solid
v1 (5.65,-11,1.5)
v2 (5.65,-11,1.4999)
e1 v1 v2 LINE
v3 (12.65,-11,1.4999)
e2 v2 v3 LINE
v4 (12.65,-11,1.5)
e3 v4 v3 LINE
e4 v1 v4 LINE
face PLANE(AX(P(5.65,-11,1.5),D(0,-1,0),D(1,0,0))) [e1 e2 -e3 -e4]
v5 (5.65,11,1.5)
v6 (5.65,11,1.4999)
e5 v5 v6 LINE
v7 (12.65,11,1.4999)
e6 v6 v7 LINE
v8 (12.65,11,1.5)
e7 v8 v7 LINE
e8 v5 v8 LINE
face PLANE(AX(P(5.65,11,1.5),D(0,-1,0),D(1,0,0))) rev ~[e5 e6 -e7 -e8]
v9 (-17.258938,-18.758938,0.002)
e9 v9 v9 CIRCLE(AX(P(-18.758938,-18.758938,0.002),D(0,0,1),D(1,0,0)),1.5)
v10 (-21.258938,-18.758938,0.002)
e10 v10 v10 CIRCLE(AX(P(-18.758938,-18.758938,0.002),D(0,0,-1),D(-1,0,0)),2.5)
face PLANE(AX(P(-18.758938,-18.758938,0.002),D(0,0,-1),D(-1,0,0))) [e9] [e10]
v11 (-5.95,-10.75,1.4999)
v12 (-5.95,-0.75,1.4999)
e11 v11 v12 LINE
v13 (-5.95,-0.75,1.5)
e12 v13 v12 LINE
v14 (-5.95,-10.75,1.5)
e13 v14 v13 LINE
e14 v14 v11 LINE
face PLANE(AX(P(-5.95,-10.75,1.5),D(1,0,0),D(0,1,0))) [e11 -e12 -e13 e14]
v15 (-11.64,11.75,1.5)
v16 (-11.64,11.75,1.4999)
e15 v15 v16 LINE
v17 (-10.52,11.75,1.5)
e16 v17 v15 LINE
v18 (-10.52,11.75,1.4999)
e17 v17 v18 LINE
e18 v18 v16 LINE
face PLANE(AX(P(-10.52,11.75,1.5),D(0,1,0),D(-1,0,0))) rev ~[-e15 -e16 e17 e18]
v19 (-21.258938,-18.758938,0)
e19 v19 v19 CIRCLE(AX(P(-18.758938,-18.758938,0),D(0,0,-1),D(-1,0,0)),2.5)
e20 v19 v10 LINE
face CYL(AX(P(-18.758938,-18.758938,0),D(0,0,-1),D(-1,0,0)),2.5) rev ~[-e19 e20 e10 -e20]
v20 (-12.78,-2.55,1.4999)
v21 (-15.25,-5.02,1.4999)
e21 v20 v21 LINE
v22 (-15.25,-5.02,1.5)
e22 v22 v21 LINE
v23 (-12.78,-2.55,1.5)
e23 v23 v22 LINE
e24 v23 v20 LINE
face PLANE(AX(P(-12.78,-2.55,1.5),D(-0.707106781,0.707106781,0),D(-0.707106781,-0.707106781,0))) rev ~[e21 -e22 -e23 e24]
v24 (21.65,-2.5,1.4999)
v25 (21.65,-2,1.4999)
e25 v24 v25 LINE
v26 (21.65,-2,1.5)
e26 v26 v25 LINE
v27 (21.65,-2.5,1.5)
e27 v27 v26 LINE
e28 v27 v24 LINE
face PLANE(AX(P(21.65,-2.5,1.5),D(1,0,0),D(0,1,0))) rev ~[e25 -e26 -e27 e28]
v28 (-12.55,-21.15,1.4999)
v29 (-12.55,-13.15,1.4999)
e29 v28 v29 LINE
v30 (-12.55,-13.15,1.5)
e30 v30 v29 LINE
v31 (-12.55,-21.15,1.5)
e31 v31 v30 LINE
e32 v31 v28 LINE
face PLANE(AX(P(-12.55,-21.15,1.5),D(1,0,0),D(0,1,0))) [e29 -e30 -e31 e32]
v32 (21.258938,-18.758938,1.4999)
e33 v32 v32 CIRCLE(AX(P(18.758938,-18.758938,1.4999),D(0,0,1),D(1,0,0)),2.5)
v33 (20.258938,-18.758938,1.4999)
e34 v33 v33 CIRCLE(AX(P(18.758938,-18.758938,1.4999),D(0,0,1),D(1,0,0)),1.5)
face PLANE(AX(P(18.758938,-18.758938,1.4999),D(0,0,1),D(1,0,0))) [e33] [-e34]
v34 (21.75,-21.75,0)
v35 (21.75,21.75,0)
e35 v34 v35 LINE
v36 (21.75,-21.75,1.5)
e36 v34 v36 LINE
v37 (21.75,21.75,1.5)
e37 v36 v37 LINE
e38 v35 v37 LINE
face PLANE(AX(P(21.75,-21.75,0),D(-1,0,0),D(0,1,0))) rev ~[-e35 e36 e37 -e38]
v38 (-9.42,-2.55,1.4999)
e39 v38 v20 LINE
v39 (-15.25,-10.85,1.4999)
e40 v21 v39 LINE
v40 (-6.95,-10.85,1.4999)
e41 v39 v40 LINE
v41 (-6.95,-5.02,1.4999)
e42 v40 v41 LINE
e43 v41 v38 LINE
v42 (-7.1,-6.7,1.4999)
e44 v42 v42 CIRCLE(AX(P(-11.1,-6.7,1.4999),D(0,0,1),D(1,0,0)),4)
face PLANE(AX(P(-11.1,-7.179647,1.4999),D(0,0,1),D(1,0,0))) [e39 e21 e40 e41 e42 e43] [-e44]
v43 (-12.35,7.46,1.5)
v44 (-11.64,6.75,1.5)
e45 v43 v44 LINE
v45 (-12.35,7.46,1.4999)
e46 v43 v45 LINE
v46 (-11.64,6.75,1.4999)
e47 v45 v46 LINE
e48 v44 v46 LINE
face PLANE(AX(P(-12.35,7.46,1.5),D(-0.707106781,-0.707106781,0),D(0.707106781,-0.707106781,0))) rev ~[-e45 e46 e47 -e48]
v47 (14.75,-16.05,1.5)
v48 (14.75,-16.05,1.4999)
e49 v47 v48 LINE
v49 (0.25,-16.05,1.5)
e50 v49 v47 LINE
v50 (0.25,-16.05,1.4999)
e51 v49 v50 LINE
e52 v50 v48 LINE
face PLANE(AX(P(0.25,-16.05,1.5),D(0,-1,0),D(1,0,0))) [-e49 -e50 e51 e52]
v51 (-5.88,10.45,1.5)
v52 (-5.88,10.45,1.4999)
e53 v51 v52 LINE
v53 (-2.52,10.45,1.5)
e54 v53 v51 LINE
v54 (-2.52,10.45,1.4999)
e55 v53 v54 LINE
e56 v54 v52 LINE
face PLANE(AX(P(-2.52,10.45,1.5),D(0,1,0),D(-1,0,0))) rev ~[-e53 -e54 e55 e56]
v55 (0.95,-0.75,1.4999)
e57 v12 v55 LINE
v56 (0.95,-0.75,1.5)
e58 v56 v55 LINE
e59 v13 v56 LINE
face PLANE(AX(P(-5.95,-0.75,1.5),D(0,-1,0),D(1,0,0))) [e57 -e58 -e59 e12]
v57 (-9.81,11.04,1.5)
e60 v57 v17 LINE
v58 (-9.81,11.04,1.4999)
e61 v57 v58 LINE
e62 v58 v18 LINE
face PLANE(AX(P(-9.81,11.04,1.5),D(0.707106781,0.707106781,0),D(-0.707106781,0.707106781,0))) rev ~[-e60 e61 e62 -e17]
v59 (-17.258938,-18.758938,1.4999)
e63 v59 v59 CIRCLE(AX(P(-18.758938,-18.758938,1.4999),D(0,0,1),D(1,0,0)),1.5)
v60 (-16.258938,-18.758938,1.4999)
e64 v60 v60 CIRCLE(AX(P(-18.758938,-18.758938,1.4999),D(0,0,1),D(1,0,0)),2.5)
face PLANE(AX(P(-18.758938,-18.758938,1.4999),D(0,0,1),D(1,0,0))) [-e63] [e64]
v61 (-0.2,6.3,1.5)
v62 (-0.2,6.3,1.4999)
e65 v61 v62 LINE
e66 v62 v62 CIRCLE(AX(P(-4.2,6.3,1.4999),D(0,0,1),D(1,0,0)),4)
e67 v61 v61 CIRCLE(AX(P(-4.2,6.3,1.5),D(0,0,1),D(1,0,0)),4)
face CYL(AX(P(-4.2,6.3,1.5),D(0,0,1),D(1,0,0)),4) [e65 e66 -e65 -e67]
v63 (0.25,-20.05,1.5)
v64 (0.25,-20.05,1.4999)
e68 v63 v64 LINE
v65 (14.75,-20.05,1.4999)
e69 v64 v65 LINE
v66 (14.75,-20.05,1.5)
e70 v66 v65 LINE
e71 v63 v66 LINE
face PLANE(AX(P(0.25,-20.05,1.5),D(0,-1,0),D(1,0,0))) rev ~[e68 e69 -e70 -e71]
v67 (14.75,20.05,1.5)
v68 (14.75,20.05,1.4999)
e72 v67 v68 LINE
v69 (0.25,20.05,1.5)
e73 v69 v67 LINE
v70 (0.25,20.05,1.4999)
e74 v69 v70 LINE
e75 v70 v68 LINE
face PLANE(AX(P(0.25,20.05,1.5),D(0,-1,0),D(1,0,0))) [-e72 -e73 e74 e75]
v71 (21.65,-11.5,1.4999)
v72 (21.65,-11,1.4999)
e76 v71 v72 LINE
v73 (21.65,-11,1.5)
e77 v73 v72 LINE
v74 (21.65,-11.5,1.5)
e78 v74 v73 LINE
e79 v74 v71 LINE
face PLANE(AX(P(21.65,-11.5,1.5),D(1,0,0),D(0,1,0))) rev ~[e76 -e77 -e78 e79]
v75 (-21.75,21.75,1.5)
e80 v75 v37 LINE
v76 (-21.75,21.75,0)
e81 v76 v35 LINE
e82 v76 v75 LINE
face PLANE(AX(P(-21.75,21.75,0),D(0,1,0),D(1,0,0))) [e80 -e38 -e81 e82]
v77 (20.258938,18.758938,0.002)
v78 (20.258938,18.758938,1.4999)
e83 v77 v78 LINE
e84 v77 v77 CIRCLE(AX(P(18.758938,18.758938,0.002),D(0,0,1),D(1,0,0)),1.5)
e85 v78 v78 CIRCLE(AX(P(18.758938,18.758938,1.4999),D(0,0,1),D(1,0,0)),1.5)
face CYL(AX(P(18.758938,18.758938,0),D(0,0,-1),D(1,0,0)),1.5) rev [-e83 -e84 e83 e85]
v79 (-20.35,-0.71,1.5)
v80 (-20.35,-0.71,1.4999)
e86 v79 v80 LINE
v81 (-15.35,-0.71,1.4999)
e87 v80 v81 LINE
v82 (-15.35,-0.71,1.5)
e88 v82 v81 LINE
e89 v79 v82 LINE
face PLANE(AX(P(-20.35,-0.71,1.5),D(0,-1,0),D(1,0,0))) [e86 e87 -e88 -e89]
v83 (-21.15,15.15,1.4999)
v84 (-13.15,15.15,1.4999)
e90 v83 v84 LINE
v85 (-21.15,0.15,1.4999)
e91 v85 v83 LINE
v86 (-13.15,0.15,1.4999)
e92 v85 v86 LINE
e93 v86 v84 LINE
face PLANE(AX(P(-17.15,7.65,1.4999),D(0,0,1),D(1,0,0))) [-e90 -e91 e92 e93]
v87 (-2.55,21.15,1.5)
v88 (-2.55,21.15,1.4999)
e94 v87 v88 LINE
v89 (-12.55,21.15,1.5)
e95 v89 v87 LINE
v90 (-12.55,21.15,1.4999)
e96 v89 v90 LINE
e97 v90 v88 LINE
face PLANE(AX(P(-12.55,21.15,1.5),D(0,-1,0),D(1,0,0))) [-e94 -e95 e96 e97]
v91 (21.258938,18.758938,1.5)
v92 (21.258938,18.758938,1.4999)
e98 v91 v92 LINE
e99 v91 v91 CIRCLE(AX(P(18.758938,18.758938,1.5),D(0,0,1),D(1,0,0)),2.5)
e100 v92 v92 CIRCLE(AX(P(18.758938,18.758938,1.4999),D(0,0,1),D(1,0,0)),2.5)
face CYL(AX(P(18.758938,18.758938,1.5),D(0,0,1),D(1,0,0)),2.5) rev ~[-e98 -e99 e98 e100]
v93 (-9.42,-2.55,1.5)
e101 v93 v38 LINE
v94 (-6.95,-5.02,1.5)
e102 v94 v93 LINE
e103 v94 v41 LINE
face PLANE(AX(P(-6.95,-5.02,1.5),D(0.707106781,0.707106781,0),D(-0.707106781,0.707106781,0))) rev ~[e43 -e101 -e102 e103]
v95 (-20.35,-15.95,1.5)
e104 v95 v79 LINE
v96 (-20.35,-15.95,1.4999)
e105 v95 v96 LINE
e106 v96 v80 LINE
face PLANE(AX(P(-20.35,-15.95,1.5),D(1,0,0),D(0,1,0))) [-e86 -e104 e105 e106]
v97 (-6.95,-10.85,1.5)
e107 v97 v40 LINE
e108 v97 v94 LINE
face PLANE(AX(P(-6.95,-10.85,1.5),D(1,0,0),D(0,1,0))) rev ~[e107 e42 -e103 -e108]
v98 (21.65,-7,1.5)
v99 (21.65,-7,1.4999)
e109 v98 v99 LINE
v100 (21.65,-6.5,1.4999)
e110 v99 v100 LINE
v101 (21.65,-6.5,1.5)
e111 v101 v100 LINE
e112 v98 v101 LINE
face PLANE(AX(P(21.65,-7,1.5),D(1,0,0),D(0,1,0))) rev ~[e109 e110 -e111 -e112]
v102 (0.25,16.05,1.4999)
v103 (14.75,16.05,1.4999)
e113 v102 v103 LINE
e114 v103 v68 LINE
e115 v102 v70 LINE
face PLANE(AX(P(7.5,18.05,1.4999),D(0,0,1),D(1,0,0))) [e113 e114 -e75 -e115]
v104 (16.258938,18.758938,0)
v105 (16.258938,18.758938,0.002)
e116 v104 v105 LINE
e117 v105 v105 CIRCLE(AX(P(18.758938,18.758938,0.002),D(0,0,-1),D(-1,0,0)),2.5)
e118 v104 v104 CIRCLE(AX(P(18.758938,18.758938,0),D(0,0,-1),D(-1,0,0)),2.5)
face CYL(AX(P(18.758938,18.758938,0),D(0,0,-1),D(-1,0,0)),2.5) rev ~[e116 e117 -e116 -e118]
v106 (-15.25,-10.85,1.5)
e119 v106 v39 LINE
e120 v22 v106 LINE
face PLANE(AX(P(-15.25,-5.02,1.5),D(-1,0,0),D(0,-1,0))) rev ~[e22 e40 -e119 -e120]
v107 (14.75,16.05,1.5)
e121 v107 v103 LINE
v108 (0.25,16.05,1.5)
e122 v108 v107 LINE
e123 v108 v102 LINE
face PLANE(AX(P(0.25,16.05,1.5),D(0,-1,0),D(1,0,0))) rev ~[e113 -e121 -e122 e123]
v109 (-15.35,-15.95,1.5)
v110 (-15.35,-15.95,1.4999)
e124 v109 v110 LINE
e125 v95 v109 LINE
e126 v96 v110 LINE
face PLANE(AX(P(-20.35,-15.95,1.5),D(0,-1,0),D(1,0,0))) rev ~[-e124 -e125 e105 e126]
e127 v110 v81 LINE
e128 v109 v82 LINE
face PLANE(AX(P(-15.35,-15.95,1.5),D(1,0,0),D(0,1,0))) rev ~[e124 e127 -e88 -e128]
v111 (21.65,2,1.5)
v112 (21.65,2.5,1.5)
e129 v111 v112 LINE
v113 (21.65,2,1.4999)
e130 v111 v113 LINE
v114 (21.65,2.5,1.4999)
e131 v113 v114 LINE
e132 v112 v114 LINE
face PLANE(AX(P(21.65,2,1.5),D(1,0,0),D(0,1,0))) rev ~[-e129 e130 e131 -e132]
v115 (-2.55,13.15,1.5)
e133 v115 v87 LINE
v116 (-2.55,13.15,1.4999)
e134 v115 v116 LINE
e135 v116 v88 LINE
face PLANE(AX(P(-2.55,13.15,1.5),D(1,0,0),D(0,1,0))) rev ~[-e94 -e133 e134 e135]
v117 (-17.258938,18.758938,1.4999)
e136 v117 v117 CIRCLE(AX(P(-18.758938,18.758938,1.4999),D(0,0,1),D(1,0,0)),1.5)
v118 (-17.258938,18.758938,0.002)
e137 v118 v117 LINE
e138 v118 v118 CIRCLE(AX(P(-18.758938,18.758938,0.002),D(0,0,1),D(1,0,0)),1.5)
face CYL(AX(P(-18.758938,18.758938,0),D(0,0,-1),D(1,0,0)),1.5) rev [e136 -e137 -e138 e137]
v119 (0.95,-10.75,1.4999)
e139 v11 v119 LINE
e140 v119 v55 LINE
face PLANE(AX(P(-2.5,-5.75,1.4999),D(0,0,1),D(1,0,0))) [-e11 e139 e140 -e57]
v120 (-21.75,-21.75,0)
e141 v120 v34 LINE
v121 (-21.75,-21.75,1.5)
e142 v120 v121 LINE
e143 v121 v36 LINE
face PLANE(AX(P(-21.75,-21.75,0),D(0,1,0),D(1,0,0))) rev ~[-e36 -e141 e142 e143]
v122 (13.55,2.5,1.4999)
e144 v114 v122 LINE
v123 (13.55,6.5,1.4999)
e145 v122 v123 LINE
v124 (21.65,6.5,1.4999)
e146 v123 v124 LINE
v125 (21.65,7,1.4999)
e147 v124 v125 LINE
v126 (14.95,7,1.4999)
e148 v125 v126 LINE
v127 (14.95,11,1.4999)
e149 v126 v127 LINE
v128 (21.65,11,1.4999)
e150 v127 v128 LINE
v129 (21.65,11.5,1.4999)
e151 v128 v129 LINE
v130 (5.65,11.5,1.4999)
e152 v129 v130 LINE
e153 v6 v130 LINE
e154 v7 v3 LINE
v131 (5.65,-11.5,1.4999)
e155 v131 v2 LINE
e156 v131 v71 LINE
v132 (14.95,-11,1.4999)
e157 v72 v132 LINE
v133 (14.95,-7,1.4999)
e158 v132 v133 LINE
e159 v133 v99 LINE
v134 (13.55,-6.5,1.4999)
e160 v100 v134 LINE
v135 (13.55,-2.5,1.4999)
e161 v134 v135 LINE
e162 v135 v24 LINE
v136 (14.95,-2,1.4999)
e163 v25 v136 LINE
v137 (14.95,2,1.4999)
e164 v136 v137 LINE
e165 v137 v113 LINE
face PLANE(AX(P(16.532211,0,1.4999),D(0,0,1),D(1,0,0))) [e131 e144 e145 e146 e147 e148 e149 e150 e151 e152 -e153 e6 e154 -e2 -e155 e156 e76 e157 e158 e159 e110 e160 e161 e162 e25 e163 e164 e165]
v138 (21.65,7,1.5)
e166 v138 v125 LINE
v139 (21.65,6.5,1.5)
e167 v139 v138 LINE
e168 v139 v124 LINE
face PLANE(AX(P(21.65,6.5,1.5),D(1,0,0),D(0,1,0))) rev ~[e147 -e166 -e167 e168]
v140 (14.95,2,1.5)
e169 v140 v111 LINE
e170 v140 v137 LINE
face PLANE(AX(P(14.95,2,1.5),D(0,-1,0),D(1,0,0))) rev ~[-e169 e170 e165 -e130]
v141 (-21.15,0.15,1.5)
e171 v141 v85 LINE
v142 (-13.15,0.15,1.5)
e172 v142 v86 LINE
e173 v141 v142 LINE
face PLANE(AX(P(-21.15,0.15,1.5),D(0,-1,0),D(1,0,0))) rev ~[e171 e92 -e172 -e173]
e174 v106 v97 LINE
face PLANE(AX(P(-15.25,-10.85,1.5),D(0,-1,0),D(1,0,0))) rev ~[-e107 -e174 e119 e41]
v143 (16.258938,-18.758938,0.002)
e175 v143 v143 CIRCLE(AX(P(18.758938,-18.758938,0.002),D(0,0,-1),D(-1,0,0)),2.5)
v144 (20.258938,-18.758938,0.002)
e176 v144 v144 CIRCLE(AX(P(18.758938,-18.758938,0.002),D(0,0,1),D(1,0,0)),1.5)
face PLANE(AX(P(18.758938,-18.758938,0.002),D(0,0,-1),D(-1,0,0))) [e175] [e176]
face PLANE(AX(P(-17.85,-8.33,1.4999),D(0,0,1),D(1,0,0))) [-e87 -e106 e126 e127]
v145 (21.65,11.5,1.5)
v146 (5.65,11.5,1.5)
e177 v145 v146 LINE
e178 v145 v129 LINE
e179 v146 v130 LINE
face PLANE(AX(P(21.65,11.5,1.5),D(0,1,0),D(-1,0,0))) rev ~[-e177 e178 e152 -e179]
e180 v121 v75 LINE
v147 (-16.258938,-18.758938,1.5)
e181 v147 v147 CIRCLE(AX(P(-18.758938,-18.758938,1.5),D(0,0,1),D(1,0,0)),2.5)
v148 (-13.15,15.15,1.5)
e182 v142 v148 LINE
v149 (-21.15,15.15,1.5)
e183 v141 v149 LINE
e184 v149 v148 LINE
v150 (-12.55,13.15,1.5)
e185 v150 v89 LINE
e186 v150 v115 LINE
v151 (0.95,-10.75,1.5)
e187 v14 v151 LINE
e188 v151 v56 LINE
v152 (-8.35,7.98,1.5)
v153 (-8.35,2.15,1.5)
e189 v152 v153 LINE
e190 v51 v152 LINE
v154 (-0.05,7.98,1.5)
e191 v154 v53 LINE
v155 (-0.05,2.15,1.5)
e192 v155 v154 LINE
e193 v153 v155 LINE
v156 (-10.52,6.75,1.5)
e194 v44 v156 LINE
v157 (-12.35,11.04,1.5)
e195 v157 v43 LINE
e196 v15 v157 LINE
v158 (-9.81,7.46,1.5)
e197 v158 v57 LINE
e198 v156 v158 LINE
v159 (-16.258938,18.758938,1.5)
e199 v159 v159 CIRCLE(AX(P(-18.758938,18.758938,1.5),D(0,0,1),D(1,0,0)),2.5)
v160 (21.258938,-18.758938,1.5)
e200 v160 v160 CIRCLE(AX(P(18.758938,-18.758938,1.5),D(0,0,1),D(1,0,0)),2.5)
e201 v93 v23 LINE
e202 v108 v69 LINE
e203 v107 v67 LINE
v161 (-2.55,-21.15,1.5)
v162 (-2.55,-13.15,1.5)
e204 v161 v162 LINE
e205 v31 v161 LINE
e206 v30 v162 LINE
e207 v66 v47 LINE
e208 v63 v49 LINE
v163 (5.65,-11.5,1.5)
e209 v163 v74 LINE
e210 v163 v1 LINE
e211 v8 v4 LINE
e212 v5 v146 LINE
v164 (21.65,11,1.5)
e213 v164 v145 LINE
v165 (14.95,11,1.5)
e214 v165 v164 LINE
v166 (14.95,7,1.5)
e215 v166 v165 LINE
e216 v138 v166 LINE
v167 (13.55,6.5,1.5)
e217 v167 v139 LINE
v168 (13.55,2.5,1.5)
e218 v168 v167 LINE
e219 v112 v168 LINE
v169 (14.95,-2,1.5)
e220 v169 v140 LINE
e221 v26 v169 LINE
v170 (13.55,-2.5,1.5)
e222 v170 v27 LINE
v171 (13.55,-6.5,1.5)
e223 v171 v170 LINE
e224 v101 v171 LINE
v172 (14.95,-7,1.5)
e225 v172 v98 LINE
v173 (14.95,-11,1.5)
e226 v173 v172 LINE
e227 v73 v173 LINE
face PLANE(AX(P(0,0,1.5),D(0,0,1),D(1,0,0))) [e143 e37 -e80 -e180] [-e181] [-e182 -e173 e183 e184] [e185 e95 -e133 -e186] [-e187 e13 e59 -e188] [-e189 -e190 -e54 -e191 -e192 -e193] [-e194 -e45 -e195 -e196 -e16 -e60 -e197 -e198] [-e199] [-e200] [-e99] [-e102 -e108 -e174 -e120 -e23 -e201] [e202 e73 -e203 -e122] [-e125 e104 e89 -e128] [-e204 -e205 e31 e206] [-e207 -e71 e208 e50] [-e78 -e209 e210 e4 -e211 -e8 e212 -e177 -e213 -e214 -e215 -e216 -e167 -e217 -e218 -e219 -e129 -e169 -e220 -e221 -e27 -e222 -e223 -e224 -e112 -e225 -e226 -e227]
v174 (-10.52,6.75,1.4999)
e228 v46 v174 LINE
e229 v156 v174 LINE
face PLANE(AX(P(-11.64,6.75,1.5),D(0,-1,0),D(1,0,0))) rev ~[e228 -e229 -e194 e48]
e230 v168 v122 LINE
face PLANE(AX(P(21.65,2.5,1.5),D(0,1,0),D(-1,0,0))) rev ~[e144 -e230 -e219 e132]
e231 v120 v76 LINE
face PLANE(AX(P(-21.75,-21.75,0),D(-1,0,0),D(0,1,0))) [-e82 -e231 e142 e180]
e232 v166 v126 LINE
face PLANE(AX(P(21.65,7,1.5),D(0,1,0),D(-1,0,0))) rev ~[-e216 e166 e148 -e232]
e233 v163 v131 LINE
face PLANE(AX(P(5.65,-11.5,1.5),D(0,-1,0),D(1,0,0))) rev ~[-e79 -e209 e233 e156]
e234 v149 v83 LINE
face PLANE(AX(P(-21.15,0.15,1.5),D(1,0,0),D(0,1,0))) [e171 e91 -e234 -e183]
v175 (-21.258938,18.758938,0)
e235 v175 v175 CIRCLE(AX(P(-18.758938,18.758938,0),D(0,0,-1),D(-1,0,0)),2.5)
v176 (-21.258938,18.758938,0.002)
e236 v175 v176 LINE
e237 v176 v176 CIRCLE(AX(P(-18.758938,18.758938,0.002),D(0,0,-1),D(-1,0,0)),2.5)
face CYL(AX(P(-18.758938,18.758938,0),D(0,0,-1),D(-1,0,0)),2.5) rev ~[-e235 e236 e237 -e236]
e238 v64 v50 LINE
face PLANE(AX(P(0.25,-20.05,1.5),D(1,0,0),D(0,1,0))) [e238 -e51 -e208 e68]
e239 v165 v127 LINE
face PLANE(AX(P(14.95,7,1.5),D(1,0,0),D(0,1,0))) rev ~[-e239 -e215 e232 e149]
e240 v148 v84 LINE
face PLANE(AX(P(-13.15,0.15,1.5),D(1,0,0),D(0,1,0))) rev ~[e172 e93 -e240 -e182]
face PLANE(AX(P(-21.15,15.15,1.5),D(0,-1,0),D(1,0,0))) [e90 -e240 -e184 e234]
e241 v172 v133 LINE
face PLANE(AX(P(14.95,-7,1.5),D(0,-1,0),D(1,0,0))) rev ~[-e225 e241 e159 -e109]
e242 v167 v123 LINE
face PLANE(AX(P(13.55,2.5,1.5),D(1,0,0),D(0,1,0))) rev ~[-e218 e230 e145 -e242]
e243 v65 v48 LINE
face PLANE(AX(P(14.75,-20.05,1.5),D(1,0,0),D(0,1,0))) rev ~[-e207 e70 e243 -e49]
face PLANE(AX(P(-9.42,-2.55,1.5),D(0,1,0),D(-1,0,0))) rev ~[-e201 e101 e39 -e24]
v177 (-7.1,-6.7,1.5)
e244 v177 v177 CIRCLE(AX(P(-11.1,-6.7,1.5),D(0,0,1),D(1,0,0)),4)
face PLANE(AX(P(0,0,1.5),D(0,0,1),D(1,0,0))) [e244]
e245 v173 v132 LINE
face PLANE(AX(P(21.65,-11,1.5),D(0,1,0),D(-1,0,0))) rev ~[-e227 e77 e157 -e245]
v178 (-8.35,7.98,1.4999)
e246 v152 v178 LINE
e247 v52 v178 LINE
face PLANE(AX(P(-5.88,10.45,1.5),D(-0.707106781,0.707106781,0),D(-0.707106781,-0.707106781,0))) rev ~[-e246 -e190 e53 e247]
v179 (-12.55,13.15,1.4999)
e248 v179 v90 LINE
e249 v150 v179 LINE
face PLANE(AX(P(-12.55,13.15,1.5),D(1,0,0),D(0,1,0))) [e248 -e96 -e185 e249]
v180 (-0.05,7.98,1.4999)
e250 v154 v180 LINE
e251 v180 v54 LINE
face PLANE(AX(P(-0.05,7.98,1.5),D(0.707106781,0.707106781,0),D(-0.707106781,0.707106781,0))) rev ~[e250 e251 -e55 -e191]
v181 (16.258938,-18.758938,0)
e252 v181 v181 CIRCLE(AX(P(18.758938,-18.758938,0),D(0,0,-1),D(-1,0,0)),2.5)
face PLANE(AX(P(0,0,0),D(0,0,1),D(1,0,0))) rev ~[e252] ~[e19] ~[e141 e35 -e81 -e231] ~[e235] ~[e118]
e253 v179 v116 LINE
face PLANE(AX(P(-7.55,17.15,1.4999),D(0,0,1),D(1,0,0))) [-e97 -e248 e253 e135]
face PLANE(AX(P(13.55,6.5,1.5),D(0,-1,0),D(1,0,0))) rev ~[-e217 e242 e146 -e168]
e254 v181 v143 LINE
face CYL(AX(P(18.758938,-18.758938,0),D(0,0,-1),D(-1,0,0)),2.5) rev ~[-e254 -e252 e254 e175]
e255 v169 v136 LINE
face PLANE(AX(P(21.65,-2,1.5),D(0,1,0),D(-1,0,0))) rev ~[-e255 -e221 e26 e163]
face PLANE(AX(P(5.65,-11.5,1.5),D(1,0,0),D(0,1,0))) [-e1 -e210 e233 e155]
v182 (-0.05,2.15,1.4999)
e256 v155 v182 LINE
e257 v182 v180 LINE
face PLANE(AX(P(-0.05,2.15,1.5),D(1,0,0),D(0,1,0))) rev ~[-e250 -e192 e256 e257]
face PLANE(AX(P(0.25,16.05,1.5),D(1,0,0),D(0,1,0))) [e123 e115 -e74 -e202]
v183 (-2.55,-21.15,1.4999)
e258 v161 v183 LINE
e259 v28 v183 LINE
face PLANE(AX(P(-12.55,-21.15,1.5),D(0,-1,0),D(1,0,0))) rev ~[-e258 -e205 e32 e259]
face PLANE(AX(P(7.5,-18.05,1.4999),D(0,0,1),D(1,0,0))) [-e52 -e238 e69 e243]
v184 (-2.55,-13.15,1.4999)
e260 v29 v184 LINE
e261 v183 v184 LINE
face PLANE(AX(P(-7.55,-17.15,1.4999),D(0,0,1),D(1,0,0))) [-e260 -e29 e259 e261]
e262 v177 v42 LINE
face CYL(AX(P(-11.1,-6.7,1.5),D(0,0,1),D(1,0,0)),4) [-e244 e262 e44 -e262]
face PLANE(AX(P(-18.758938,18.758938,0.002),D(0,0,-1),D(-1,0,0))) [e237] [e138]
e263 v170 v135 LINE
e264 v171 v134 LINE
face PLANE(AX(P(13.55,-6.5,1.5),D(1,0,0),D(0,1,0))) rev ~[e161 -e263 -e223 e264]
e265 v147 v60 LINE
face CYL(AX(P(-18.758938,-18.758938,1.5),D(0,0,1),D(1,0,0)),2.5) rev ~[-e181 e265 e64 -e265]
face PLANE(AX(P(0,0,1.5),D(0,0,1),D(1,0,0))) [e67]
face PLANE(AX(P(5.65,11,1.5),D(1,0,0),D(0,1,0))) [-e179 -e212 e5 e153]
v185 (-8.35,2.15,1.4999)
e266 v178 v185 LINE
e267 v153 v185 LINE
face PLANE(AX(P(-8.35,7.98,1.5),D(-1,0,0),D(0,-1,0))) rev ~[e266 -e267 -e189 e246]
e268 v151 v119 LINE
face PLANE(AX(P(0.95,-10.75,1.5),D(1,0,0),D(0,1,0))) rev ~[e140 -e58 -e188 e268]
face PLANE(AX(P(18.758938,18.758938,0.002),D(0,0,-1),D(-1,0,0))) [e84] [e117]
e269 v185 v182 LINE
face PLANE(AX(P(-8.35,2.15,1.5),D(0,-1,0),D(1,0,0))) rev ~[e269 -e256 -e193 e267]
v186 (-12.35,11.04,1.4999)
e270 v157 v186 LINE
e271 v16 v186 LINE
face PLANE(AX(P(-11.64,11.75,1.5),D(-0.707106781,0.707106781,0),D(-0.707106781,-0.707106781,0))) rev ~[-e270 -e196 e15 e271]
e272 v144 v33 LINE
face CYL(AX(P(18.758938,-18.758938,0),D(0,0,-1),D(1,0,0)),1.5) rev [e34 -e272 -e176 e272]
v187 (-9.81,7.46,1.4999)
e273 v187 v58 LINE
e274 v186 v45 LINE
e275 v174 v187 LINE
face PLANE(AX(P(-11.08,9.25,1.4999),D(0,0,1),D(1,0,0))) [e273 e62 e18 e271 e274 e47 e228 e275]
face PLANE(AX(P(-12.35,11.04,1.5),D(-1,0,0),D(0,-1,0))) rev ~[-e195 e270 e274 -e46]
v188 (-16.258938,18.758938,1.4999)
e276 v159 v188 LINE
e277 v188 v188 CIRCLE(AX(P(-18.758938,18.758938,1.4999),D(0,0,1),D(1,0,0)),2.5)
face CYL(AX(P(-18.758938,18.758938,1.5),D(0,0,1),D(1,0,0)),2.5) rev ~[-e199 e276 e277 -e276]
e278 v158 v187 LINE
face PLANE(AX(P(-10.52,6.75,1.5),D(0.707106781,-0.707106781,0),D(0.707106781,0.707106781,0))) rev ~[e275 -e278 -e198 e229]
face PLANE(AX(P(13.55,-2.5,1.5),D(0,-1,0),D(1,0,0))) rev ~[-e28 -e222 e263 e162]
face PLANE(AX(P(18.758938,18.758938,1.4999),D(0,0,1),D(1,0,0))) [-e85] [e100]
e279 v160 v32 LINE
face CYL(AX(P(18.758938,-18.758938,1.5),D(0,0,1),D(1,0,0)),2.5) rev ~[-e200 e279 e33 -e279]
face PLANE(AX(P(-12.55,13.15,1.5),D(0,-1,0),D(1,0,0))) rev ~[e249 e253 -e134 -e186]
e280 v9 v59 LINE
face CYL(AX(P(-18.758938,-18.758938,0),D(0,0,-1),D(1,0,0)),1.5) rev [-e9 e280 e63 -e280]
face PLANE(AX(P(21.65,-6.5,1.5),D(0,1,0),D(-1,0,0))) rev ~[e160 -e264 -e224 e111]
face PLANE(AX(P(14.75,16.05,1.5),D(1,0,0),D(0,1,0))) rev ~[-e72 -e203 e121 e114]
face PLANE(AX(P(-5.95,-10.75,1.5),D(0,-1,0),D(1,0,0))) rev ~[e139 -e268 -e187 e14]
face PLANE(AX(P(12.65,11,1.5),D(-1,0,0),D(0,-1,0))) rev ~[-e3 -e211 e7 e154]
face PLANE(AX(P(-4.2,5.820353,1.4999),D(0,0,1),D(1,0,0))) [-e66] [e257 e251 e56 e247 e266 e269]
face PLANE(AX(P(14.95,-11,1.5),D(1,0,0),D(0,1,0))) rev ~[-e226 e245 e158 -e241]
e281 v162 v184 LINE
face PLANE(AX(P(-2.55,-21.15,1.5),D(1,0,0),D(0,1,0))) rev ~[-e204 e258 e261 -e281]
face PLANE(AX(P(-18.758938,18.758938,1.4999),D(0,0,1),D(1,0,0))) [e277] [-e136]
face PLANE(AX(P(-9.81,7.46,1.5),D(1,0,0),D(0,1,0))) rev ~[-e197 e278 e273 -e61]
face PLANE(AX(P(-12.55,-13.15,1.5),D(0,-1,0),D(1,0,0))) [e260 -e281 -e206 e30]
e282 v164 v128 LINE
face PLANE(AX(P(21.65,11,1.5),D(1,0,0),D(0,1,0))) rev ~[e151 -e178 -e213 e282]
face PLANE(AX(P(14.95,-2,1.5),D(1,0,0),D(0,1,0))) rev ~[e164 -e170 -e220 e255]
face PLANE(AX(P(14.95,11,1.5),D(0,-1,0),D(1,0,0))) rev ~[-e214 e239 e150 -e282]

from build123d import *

# Parameters (mm, degrees)
SKETCH1_W           = 43.5
SKETCH1_H           = 43.5
SKETCH1_R           = 1.5
BOSS_EXTRUDE1_DEPTH = 1.5
SKETCH2_R           = 2.5
SKETCH2_R_2         = 1.5
CUT_EXTRUDE1_DEPTH  = 0.0001
SKETCH3_R           = 2.5
SKETCH3_R_2         = 1.5
CUT_EXTRUDE2_DEPTH  = 0.002
SKETCH4_W           = 7
SKETCH4_H           = 0.5
CUT_EXTRUDE4_DEPTH  = 0.0001
SKETCH6_W           = 8
SKETCH6_H           = 15
SKETCH6_W_2         = 10
SKETCH6_H_2         = 8
CUT_EXTRUDE5_DEPTH  = 0.0001
SKETCH8_R           = 4
CUT_EXTRUDE6_DEPTH  = 0.0001
SKETCH9_W           = 14.5
SKETCH9_H           = 4
CUT_EXTRUDE7_DEPTH  = 0.0001
SKETCH10_W          = 5
SKETCH10_H          = 15.24
CUT_EXTRUDE8_DEPTH  = 0.0001
SKETCH11_R          = 4
SKETCH11_W          = 14.5
SKETCH11_H          = 4
CUT_EXTRUDE9_DEPTH  = 0.0001
CUT_EXTRUDE10_DEPTH = 0.0001
SKETCH13_W          = 6.9
SKETCH13_H          = 10
CUT_EXTRUDE11_DEPTH = 0.0001


with BuildPart() as part:
    # Sketch1 → Boss-Extrude1 (new body)
    with BuildSketch(Plane.XY):
        Rectangle(SKETCH1_W, SKETCH1_H)
        with Locations((-18.758938316, 18.758938316)):
            Circle(SKETCH1_R, mode=Mode.SUBTRACT)
        with Locations((18.758938316, 18.758938316)):
            Circle(SKETCH1_R, mode=Mode.SUBTRACT)
        with Locations((18.758938316, -18.758938316)):
            Circle(SKETCH1_R, mode=Mode.SUBTRACT)
        with Locations((-18.758938316, -18.758938316)):
            Circle(SKETCH1_R, mode=Mode.SUBTRACT)
    extrude(amount=BOSS_EXTRUDE1_DEPTH)

    # Sketch2 → Cut-Extrude1 (cut)
    with BuildSketch(Plane.XY.offset(1.5)):
        with Locations((-18.758938316, 18.758938316)):
            Circle(SKETCH2_R)
        with Locations((-18.758938316, 18.758938316)):
            Circle(SKETCH2_R_2, mode=Mode.SUBTRACT)
        with Locations((18.758938316, 18.758938316)):
            Circle(SKETCH2_R)
        with Locations((18.758938316, 18.758938316)):
            Circle(SKETCH2_R_2, mode=Mode.SUBTRACT)
        with Locations((18.758938316, -18.758938316)):
            Circle(SKETCH2_R)
        with Locations((18.758938316, -18.758938316)):
            Circle(SKETCH2_R_2, mode=Mode.SUBTRACT)
        with Locations((-18.758938316, -18.758938316)):
            Circle(SKETCH2_R)
        with Locations((-18.758938316, -18.758938316)):
            Circle(SKETCH2_R_2, mode=Mode.SUBTRACT)
    extrude(amount=-CUT_EXTRUDE1_DEPTH, mode=Mode.SUBTRACT)

    # Sketch3 → Cut-Extrude2 (cut)
    with BuildSketch(Plane(origin=(0, 0, 0), x_dir=(-1, 0, 0), z_dir=(0, 0, -1))):
        with Locations((-18.758938316, -18.758938316)):
            Circle(SKETCH3_R)
        with Locations((-18.758938316, -18.758938316)):
            Circle(SKETCH3_R_2, mode=Mode.SUBTRACT)
        with Locations((-18.758938316, 18.758938316)):
            Circle(SKETCH3_R)
        with Locations((-18.758938316, 18.758938316)):
            Circle(SKETCH3_R_2, mode=Mode.SUBTRACT)
        with Locations((18.758938316, 18.758938316)):
            Circle(SKETCH3_R)
        with Locations((18.758938316, 18.758938316)):
            Circle(SKETCH3_R_2, mode=Mode.SUBTRACT)
        with Locations((18.758938316, -18.758938316)):
            Circle(SKETCH3_R)
        with Locations((18.758938316, -18.758938316)):
            Circle(SKETCH3_R_2, mode=Mode.SUBTRACT)
    extrude(amount=-CUT_EXTRUDE2_DEPTH, mode=Mode.SUBTRACT)

    # Sketch4 → Cut-Extrude4 (cut)
    with BuildSketch(Plane.XY.offset(1.5)):
        Polygon((14.95, 11), (21.65, 11), (21.65, 11.5), (12.65, 11.5), (12.65, 11), (12.65, -11), (12.65, -11.5), (21.65, -11.5), (21.65, -11), (14.95, -11), (14.95, -7), (21.65, -7), (21.65, -6.5), (13.55, -6.5), (13.55, -2.5), (21.65, -2.5), (21.65, -2), (14.95, -2), (14.95, 2), (21.65, 2), (21.65, 2.5), (13.55, 2.5), (13.55, 6.5), (21.65, 6.5), (21.65, 7), (14.95, 7), align=None)
        with Locations((9.15, 11.25)):
            Rectangle(SKETCH4_W, SKETCH4_H)
        with Locations((9.15, -11.25)):
            Rectangle(SKETCH4_W, SKETCH4_H)
    extrude(amount=-CUT_EXTRUDE4_DEPTH, mode=Mode.SUBTRACT)

    # Sketch6 → Cut-Extrude5 (cut)
    with BuildSketch(Plane.XY.offset(1.5)):
        with Locations((-17.15, 7.65)):
            Rectangle(SKETCH6_W, SKETCH6_H)
        with Locations((-7.55, 17.15)):
            Rectangle(SKETCH6_W_2, SKETCH6_H_2)
        with Locations((-7.55, -17.15)):
            Rectangle(SKETCH6_W_2, SKETCH6_H_2)
    extrude(amount=-CUT_EXTRUDE5_DEPTH, mode=Mode.SUBTRACT)

    # Sketch8 → Cut-Extrude6 (cut)
    with BuildSketch(Plane.XY.offset(1.5)):
        Polygon((-0.05, 7.98), (-2.52, 10.45), (-5.88, 10.45), (-8.35, 7.98), (-8.35, 2.15), (-0.05, 2.15), align=None)
        with Locations((-4.2, 6.3)):
            Circle(SKETCH8_R, mode=Mode.SUBTRACT)
    extrude(amount=-CUT_EXTRUDE6_DEPTH, mode=Mode.SUBTRACT)

    # Sketch9 → Cut-Extrude7 (cut)
    with BuildSketch(Plane.XY.offset(1.5)):
        with Locations((7.5, 18.05)):
            Rectangle(SKETCH9_W, SKETCH9_H)
    extrude(amount=-CUT_EXTRUDE7_DEPTH, mode=Mode.SUBTRACT)

    # Sketch10 → Cut-Extrude8 (cut)
    with BuildSketch(Plane.XY.offset(1.5)):
        with Locations((-17.85, -8.33)):
            Rectangle(SKETCH10_W, SKETCH10_H)
    extrude(amount=-CUT_EXTRUDE8_DEPTH, mode=Mode.SUBTRACT)

    # Sketch11 → Cut-Extrude9 (cut)
    with BuildSketch(Plane.XY.offset(1.5)):
        Polygon((-9.42, -2.55), (-12.78, -2.55), (-15.25, -5.02), (-15.25, -10.85), (-6.95, -10.85), (-6.95, -5.02), align=None)
        with Locations((-11.1, -6.7)):
            Circle(SKETCH11_R, mode=Mode.SUBTRACT)
        with Locations((7.5, -18.05)):
            Rectangle(SKETCH11_W, SKETCH11_H)
    extrude(amount=-CUT_EXTRUDE9_DEPTH, mode=Mode.SUBTRACT)

    # Sketch12 → Cut-Extrude10 (cut)
    with BuildSketch(Plane.XY.offset(1.5)):
        Polygon((-9.81, 11.04), (-10.52, 11.75), (-11.64, 11.75), (-12.35, 11.04), (-12.35, 7.46), (-11.64, 6.75), (-10.52, 6.75), (-9.81, 7.46), align=None)
    extrude(amount=-CUT_EXTRUDE10_DEPTH, mode=Mode.SUBTRACT)

    # Sketch13 → Cut-Extrude11 (cut)
    with BuildSketch(Plane.XY.offset(1.5)):
        with Locations((-2.5, -5.75)):
            Rectangle(SKETCH13_W, SKETCH13_H)
    extrude(amount=-CUT_EXTRUDE11_DEPTH, mode=Mode.SUBTRACT)


solid = part.part
